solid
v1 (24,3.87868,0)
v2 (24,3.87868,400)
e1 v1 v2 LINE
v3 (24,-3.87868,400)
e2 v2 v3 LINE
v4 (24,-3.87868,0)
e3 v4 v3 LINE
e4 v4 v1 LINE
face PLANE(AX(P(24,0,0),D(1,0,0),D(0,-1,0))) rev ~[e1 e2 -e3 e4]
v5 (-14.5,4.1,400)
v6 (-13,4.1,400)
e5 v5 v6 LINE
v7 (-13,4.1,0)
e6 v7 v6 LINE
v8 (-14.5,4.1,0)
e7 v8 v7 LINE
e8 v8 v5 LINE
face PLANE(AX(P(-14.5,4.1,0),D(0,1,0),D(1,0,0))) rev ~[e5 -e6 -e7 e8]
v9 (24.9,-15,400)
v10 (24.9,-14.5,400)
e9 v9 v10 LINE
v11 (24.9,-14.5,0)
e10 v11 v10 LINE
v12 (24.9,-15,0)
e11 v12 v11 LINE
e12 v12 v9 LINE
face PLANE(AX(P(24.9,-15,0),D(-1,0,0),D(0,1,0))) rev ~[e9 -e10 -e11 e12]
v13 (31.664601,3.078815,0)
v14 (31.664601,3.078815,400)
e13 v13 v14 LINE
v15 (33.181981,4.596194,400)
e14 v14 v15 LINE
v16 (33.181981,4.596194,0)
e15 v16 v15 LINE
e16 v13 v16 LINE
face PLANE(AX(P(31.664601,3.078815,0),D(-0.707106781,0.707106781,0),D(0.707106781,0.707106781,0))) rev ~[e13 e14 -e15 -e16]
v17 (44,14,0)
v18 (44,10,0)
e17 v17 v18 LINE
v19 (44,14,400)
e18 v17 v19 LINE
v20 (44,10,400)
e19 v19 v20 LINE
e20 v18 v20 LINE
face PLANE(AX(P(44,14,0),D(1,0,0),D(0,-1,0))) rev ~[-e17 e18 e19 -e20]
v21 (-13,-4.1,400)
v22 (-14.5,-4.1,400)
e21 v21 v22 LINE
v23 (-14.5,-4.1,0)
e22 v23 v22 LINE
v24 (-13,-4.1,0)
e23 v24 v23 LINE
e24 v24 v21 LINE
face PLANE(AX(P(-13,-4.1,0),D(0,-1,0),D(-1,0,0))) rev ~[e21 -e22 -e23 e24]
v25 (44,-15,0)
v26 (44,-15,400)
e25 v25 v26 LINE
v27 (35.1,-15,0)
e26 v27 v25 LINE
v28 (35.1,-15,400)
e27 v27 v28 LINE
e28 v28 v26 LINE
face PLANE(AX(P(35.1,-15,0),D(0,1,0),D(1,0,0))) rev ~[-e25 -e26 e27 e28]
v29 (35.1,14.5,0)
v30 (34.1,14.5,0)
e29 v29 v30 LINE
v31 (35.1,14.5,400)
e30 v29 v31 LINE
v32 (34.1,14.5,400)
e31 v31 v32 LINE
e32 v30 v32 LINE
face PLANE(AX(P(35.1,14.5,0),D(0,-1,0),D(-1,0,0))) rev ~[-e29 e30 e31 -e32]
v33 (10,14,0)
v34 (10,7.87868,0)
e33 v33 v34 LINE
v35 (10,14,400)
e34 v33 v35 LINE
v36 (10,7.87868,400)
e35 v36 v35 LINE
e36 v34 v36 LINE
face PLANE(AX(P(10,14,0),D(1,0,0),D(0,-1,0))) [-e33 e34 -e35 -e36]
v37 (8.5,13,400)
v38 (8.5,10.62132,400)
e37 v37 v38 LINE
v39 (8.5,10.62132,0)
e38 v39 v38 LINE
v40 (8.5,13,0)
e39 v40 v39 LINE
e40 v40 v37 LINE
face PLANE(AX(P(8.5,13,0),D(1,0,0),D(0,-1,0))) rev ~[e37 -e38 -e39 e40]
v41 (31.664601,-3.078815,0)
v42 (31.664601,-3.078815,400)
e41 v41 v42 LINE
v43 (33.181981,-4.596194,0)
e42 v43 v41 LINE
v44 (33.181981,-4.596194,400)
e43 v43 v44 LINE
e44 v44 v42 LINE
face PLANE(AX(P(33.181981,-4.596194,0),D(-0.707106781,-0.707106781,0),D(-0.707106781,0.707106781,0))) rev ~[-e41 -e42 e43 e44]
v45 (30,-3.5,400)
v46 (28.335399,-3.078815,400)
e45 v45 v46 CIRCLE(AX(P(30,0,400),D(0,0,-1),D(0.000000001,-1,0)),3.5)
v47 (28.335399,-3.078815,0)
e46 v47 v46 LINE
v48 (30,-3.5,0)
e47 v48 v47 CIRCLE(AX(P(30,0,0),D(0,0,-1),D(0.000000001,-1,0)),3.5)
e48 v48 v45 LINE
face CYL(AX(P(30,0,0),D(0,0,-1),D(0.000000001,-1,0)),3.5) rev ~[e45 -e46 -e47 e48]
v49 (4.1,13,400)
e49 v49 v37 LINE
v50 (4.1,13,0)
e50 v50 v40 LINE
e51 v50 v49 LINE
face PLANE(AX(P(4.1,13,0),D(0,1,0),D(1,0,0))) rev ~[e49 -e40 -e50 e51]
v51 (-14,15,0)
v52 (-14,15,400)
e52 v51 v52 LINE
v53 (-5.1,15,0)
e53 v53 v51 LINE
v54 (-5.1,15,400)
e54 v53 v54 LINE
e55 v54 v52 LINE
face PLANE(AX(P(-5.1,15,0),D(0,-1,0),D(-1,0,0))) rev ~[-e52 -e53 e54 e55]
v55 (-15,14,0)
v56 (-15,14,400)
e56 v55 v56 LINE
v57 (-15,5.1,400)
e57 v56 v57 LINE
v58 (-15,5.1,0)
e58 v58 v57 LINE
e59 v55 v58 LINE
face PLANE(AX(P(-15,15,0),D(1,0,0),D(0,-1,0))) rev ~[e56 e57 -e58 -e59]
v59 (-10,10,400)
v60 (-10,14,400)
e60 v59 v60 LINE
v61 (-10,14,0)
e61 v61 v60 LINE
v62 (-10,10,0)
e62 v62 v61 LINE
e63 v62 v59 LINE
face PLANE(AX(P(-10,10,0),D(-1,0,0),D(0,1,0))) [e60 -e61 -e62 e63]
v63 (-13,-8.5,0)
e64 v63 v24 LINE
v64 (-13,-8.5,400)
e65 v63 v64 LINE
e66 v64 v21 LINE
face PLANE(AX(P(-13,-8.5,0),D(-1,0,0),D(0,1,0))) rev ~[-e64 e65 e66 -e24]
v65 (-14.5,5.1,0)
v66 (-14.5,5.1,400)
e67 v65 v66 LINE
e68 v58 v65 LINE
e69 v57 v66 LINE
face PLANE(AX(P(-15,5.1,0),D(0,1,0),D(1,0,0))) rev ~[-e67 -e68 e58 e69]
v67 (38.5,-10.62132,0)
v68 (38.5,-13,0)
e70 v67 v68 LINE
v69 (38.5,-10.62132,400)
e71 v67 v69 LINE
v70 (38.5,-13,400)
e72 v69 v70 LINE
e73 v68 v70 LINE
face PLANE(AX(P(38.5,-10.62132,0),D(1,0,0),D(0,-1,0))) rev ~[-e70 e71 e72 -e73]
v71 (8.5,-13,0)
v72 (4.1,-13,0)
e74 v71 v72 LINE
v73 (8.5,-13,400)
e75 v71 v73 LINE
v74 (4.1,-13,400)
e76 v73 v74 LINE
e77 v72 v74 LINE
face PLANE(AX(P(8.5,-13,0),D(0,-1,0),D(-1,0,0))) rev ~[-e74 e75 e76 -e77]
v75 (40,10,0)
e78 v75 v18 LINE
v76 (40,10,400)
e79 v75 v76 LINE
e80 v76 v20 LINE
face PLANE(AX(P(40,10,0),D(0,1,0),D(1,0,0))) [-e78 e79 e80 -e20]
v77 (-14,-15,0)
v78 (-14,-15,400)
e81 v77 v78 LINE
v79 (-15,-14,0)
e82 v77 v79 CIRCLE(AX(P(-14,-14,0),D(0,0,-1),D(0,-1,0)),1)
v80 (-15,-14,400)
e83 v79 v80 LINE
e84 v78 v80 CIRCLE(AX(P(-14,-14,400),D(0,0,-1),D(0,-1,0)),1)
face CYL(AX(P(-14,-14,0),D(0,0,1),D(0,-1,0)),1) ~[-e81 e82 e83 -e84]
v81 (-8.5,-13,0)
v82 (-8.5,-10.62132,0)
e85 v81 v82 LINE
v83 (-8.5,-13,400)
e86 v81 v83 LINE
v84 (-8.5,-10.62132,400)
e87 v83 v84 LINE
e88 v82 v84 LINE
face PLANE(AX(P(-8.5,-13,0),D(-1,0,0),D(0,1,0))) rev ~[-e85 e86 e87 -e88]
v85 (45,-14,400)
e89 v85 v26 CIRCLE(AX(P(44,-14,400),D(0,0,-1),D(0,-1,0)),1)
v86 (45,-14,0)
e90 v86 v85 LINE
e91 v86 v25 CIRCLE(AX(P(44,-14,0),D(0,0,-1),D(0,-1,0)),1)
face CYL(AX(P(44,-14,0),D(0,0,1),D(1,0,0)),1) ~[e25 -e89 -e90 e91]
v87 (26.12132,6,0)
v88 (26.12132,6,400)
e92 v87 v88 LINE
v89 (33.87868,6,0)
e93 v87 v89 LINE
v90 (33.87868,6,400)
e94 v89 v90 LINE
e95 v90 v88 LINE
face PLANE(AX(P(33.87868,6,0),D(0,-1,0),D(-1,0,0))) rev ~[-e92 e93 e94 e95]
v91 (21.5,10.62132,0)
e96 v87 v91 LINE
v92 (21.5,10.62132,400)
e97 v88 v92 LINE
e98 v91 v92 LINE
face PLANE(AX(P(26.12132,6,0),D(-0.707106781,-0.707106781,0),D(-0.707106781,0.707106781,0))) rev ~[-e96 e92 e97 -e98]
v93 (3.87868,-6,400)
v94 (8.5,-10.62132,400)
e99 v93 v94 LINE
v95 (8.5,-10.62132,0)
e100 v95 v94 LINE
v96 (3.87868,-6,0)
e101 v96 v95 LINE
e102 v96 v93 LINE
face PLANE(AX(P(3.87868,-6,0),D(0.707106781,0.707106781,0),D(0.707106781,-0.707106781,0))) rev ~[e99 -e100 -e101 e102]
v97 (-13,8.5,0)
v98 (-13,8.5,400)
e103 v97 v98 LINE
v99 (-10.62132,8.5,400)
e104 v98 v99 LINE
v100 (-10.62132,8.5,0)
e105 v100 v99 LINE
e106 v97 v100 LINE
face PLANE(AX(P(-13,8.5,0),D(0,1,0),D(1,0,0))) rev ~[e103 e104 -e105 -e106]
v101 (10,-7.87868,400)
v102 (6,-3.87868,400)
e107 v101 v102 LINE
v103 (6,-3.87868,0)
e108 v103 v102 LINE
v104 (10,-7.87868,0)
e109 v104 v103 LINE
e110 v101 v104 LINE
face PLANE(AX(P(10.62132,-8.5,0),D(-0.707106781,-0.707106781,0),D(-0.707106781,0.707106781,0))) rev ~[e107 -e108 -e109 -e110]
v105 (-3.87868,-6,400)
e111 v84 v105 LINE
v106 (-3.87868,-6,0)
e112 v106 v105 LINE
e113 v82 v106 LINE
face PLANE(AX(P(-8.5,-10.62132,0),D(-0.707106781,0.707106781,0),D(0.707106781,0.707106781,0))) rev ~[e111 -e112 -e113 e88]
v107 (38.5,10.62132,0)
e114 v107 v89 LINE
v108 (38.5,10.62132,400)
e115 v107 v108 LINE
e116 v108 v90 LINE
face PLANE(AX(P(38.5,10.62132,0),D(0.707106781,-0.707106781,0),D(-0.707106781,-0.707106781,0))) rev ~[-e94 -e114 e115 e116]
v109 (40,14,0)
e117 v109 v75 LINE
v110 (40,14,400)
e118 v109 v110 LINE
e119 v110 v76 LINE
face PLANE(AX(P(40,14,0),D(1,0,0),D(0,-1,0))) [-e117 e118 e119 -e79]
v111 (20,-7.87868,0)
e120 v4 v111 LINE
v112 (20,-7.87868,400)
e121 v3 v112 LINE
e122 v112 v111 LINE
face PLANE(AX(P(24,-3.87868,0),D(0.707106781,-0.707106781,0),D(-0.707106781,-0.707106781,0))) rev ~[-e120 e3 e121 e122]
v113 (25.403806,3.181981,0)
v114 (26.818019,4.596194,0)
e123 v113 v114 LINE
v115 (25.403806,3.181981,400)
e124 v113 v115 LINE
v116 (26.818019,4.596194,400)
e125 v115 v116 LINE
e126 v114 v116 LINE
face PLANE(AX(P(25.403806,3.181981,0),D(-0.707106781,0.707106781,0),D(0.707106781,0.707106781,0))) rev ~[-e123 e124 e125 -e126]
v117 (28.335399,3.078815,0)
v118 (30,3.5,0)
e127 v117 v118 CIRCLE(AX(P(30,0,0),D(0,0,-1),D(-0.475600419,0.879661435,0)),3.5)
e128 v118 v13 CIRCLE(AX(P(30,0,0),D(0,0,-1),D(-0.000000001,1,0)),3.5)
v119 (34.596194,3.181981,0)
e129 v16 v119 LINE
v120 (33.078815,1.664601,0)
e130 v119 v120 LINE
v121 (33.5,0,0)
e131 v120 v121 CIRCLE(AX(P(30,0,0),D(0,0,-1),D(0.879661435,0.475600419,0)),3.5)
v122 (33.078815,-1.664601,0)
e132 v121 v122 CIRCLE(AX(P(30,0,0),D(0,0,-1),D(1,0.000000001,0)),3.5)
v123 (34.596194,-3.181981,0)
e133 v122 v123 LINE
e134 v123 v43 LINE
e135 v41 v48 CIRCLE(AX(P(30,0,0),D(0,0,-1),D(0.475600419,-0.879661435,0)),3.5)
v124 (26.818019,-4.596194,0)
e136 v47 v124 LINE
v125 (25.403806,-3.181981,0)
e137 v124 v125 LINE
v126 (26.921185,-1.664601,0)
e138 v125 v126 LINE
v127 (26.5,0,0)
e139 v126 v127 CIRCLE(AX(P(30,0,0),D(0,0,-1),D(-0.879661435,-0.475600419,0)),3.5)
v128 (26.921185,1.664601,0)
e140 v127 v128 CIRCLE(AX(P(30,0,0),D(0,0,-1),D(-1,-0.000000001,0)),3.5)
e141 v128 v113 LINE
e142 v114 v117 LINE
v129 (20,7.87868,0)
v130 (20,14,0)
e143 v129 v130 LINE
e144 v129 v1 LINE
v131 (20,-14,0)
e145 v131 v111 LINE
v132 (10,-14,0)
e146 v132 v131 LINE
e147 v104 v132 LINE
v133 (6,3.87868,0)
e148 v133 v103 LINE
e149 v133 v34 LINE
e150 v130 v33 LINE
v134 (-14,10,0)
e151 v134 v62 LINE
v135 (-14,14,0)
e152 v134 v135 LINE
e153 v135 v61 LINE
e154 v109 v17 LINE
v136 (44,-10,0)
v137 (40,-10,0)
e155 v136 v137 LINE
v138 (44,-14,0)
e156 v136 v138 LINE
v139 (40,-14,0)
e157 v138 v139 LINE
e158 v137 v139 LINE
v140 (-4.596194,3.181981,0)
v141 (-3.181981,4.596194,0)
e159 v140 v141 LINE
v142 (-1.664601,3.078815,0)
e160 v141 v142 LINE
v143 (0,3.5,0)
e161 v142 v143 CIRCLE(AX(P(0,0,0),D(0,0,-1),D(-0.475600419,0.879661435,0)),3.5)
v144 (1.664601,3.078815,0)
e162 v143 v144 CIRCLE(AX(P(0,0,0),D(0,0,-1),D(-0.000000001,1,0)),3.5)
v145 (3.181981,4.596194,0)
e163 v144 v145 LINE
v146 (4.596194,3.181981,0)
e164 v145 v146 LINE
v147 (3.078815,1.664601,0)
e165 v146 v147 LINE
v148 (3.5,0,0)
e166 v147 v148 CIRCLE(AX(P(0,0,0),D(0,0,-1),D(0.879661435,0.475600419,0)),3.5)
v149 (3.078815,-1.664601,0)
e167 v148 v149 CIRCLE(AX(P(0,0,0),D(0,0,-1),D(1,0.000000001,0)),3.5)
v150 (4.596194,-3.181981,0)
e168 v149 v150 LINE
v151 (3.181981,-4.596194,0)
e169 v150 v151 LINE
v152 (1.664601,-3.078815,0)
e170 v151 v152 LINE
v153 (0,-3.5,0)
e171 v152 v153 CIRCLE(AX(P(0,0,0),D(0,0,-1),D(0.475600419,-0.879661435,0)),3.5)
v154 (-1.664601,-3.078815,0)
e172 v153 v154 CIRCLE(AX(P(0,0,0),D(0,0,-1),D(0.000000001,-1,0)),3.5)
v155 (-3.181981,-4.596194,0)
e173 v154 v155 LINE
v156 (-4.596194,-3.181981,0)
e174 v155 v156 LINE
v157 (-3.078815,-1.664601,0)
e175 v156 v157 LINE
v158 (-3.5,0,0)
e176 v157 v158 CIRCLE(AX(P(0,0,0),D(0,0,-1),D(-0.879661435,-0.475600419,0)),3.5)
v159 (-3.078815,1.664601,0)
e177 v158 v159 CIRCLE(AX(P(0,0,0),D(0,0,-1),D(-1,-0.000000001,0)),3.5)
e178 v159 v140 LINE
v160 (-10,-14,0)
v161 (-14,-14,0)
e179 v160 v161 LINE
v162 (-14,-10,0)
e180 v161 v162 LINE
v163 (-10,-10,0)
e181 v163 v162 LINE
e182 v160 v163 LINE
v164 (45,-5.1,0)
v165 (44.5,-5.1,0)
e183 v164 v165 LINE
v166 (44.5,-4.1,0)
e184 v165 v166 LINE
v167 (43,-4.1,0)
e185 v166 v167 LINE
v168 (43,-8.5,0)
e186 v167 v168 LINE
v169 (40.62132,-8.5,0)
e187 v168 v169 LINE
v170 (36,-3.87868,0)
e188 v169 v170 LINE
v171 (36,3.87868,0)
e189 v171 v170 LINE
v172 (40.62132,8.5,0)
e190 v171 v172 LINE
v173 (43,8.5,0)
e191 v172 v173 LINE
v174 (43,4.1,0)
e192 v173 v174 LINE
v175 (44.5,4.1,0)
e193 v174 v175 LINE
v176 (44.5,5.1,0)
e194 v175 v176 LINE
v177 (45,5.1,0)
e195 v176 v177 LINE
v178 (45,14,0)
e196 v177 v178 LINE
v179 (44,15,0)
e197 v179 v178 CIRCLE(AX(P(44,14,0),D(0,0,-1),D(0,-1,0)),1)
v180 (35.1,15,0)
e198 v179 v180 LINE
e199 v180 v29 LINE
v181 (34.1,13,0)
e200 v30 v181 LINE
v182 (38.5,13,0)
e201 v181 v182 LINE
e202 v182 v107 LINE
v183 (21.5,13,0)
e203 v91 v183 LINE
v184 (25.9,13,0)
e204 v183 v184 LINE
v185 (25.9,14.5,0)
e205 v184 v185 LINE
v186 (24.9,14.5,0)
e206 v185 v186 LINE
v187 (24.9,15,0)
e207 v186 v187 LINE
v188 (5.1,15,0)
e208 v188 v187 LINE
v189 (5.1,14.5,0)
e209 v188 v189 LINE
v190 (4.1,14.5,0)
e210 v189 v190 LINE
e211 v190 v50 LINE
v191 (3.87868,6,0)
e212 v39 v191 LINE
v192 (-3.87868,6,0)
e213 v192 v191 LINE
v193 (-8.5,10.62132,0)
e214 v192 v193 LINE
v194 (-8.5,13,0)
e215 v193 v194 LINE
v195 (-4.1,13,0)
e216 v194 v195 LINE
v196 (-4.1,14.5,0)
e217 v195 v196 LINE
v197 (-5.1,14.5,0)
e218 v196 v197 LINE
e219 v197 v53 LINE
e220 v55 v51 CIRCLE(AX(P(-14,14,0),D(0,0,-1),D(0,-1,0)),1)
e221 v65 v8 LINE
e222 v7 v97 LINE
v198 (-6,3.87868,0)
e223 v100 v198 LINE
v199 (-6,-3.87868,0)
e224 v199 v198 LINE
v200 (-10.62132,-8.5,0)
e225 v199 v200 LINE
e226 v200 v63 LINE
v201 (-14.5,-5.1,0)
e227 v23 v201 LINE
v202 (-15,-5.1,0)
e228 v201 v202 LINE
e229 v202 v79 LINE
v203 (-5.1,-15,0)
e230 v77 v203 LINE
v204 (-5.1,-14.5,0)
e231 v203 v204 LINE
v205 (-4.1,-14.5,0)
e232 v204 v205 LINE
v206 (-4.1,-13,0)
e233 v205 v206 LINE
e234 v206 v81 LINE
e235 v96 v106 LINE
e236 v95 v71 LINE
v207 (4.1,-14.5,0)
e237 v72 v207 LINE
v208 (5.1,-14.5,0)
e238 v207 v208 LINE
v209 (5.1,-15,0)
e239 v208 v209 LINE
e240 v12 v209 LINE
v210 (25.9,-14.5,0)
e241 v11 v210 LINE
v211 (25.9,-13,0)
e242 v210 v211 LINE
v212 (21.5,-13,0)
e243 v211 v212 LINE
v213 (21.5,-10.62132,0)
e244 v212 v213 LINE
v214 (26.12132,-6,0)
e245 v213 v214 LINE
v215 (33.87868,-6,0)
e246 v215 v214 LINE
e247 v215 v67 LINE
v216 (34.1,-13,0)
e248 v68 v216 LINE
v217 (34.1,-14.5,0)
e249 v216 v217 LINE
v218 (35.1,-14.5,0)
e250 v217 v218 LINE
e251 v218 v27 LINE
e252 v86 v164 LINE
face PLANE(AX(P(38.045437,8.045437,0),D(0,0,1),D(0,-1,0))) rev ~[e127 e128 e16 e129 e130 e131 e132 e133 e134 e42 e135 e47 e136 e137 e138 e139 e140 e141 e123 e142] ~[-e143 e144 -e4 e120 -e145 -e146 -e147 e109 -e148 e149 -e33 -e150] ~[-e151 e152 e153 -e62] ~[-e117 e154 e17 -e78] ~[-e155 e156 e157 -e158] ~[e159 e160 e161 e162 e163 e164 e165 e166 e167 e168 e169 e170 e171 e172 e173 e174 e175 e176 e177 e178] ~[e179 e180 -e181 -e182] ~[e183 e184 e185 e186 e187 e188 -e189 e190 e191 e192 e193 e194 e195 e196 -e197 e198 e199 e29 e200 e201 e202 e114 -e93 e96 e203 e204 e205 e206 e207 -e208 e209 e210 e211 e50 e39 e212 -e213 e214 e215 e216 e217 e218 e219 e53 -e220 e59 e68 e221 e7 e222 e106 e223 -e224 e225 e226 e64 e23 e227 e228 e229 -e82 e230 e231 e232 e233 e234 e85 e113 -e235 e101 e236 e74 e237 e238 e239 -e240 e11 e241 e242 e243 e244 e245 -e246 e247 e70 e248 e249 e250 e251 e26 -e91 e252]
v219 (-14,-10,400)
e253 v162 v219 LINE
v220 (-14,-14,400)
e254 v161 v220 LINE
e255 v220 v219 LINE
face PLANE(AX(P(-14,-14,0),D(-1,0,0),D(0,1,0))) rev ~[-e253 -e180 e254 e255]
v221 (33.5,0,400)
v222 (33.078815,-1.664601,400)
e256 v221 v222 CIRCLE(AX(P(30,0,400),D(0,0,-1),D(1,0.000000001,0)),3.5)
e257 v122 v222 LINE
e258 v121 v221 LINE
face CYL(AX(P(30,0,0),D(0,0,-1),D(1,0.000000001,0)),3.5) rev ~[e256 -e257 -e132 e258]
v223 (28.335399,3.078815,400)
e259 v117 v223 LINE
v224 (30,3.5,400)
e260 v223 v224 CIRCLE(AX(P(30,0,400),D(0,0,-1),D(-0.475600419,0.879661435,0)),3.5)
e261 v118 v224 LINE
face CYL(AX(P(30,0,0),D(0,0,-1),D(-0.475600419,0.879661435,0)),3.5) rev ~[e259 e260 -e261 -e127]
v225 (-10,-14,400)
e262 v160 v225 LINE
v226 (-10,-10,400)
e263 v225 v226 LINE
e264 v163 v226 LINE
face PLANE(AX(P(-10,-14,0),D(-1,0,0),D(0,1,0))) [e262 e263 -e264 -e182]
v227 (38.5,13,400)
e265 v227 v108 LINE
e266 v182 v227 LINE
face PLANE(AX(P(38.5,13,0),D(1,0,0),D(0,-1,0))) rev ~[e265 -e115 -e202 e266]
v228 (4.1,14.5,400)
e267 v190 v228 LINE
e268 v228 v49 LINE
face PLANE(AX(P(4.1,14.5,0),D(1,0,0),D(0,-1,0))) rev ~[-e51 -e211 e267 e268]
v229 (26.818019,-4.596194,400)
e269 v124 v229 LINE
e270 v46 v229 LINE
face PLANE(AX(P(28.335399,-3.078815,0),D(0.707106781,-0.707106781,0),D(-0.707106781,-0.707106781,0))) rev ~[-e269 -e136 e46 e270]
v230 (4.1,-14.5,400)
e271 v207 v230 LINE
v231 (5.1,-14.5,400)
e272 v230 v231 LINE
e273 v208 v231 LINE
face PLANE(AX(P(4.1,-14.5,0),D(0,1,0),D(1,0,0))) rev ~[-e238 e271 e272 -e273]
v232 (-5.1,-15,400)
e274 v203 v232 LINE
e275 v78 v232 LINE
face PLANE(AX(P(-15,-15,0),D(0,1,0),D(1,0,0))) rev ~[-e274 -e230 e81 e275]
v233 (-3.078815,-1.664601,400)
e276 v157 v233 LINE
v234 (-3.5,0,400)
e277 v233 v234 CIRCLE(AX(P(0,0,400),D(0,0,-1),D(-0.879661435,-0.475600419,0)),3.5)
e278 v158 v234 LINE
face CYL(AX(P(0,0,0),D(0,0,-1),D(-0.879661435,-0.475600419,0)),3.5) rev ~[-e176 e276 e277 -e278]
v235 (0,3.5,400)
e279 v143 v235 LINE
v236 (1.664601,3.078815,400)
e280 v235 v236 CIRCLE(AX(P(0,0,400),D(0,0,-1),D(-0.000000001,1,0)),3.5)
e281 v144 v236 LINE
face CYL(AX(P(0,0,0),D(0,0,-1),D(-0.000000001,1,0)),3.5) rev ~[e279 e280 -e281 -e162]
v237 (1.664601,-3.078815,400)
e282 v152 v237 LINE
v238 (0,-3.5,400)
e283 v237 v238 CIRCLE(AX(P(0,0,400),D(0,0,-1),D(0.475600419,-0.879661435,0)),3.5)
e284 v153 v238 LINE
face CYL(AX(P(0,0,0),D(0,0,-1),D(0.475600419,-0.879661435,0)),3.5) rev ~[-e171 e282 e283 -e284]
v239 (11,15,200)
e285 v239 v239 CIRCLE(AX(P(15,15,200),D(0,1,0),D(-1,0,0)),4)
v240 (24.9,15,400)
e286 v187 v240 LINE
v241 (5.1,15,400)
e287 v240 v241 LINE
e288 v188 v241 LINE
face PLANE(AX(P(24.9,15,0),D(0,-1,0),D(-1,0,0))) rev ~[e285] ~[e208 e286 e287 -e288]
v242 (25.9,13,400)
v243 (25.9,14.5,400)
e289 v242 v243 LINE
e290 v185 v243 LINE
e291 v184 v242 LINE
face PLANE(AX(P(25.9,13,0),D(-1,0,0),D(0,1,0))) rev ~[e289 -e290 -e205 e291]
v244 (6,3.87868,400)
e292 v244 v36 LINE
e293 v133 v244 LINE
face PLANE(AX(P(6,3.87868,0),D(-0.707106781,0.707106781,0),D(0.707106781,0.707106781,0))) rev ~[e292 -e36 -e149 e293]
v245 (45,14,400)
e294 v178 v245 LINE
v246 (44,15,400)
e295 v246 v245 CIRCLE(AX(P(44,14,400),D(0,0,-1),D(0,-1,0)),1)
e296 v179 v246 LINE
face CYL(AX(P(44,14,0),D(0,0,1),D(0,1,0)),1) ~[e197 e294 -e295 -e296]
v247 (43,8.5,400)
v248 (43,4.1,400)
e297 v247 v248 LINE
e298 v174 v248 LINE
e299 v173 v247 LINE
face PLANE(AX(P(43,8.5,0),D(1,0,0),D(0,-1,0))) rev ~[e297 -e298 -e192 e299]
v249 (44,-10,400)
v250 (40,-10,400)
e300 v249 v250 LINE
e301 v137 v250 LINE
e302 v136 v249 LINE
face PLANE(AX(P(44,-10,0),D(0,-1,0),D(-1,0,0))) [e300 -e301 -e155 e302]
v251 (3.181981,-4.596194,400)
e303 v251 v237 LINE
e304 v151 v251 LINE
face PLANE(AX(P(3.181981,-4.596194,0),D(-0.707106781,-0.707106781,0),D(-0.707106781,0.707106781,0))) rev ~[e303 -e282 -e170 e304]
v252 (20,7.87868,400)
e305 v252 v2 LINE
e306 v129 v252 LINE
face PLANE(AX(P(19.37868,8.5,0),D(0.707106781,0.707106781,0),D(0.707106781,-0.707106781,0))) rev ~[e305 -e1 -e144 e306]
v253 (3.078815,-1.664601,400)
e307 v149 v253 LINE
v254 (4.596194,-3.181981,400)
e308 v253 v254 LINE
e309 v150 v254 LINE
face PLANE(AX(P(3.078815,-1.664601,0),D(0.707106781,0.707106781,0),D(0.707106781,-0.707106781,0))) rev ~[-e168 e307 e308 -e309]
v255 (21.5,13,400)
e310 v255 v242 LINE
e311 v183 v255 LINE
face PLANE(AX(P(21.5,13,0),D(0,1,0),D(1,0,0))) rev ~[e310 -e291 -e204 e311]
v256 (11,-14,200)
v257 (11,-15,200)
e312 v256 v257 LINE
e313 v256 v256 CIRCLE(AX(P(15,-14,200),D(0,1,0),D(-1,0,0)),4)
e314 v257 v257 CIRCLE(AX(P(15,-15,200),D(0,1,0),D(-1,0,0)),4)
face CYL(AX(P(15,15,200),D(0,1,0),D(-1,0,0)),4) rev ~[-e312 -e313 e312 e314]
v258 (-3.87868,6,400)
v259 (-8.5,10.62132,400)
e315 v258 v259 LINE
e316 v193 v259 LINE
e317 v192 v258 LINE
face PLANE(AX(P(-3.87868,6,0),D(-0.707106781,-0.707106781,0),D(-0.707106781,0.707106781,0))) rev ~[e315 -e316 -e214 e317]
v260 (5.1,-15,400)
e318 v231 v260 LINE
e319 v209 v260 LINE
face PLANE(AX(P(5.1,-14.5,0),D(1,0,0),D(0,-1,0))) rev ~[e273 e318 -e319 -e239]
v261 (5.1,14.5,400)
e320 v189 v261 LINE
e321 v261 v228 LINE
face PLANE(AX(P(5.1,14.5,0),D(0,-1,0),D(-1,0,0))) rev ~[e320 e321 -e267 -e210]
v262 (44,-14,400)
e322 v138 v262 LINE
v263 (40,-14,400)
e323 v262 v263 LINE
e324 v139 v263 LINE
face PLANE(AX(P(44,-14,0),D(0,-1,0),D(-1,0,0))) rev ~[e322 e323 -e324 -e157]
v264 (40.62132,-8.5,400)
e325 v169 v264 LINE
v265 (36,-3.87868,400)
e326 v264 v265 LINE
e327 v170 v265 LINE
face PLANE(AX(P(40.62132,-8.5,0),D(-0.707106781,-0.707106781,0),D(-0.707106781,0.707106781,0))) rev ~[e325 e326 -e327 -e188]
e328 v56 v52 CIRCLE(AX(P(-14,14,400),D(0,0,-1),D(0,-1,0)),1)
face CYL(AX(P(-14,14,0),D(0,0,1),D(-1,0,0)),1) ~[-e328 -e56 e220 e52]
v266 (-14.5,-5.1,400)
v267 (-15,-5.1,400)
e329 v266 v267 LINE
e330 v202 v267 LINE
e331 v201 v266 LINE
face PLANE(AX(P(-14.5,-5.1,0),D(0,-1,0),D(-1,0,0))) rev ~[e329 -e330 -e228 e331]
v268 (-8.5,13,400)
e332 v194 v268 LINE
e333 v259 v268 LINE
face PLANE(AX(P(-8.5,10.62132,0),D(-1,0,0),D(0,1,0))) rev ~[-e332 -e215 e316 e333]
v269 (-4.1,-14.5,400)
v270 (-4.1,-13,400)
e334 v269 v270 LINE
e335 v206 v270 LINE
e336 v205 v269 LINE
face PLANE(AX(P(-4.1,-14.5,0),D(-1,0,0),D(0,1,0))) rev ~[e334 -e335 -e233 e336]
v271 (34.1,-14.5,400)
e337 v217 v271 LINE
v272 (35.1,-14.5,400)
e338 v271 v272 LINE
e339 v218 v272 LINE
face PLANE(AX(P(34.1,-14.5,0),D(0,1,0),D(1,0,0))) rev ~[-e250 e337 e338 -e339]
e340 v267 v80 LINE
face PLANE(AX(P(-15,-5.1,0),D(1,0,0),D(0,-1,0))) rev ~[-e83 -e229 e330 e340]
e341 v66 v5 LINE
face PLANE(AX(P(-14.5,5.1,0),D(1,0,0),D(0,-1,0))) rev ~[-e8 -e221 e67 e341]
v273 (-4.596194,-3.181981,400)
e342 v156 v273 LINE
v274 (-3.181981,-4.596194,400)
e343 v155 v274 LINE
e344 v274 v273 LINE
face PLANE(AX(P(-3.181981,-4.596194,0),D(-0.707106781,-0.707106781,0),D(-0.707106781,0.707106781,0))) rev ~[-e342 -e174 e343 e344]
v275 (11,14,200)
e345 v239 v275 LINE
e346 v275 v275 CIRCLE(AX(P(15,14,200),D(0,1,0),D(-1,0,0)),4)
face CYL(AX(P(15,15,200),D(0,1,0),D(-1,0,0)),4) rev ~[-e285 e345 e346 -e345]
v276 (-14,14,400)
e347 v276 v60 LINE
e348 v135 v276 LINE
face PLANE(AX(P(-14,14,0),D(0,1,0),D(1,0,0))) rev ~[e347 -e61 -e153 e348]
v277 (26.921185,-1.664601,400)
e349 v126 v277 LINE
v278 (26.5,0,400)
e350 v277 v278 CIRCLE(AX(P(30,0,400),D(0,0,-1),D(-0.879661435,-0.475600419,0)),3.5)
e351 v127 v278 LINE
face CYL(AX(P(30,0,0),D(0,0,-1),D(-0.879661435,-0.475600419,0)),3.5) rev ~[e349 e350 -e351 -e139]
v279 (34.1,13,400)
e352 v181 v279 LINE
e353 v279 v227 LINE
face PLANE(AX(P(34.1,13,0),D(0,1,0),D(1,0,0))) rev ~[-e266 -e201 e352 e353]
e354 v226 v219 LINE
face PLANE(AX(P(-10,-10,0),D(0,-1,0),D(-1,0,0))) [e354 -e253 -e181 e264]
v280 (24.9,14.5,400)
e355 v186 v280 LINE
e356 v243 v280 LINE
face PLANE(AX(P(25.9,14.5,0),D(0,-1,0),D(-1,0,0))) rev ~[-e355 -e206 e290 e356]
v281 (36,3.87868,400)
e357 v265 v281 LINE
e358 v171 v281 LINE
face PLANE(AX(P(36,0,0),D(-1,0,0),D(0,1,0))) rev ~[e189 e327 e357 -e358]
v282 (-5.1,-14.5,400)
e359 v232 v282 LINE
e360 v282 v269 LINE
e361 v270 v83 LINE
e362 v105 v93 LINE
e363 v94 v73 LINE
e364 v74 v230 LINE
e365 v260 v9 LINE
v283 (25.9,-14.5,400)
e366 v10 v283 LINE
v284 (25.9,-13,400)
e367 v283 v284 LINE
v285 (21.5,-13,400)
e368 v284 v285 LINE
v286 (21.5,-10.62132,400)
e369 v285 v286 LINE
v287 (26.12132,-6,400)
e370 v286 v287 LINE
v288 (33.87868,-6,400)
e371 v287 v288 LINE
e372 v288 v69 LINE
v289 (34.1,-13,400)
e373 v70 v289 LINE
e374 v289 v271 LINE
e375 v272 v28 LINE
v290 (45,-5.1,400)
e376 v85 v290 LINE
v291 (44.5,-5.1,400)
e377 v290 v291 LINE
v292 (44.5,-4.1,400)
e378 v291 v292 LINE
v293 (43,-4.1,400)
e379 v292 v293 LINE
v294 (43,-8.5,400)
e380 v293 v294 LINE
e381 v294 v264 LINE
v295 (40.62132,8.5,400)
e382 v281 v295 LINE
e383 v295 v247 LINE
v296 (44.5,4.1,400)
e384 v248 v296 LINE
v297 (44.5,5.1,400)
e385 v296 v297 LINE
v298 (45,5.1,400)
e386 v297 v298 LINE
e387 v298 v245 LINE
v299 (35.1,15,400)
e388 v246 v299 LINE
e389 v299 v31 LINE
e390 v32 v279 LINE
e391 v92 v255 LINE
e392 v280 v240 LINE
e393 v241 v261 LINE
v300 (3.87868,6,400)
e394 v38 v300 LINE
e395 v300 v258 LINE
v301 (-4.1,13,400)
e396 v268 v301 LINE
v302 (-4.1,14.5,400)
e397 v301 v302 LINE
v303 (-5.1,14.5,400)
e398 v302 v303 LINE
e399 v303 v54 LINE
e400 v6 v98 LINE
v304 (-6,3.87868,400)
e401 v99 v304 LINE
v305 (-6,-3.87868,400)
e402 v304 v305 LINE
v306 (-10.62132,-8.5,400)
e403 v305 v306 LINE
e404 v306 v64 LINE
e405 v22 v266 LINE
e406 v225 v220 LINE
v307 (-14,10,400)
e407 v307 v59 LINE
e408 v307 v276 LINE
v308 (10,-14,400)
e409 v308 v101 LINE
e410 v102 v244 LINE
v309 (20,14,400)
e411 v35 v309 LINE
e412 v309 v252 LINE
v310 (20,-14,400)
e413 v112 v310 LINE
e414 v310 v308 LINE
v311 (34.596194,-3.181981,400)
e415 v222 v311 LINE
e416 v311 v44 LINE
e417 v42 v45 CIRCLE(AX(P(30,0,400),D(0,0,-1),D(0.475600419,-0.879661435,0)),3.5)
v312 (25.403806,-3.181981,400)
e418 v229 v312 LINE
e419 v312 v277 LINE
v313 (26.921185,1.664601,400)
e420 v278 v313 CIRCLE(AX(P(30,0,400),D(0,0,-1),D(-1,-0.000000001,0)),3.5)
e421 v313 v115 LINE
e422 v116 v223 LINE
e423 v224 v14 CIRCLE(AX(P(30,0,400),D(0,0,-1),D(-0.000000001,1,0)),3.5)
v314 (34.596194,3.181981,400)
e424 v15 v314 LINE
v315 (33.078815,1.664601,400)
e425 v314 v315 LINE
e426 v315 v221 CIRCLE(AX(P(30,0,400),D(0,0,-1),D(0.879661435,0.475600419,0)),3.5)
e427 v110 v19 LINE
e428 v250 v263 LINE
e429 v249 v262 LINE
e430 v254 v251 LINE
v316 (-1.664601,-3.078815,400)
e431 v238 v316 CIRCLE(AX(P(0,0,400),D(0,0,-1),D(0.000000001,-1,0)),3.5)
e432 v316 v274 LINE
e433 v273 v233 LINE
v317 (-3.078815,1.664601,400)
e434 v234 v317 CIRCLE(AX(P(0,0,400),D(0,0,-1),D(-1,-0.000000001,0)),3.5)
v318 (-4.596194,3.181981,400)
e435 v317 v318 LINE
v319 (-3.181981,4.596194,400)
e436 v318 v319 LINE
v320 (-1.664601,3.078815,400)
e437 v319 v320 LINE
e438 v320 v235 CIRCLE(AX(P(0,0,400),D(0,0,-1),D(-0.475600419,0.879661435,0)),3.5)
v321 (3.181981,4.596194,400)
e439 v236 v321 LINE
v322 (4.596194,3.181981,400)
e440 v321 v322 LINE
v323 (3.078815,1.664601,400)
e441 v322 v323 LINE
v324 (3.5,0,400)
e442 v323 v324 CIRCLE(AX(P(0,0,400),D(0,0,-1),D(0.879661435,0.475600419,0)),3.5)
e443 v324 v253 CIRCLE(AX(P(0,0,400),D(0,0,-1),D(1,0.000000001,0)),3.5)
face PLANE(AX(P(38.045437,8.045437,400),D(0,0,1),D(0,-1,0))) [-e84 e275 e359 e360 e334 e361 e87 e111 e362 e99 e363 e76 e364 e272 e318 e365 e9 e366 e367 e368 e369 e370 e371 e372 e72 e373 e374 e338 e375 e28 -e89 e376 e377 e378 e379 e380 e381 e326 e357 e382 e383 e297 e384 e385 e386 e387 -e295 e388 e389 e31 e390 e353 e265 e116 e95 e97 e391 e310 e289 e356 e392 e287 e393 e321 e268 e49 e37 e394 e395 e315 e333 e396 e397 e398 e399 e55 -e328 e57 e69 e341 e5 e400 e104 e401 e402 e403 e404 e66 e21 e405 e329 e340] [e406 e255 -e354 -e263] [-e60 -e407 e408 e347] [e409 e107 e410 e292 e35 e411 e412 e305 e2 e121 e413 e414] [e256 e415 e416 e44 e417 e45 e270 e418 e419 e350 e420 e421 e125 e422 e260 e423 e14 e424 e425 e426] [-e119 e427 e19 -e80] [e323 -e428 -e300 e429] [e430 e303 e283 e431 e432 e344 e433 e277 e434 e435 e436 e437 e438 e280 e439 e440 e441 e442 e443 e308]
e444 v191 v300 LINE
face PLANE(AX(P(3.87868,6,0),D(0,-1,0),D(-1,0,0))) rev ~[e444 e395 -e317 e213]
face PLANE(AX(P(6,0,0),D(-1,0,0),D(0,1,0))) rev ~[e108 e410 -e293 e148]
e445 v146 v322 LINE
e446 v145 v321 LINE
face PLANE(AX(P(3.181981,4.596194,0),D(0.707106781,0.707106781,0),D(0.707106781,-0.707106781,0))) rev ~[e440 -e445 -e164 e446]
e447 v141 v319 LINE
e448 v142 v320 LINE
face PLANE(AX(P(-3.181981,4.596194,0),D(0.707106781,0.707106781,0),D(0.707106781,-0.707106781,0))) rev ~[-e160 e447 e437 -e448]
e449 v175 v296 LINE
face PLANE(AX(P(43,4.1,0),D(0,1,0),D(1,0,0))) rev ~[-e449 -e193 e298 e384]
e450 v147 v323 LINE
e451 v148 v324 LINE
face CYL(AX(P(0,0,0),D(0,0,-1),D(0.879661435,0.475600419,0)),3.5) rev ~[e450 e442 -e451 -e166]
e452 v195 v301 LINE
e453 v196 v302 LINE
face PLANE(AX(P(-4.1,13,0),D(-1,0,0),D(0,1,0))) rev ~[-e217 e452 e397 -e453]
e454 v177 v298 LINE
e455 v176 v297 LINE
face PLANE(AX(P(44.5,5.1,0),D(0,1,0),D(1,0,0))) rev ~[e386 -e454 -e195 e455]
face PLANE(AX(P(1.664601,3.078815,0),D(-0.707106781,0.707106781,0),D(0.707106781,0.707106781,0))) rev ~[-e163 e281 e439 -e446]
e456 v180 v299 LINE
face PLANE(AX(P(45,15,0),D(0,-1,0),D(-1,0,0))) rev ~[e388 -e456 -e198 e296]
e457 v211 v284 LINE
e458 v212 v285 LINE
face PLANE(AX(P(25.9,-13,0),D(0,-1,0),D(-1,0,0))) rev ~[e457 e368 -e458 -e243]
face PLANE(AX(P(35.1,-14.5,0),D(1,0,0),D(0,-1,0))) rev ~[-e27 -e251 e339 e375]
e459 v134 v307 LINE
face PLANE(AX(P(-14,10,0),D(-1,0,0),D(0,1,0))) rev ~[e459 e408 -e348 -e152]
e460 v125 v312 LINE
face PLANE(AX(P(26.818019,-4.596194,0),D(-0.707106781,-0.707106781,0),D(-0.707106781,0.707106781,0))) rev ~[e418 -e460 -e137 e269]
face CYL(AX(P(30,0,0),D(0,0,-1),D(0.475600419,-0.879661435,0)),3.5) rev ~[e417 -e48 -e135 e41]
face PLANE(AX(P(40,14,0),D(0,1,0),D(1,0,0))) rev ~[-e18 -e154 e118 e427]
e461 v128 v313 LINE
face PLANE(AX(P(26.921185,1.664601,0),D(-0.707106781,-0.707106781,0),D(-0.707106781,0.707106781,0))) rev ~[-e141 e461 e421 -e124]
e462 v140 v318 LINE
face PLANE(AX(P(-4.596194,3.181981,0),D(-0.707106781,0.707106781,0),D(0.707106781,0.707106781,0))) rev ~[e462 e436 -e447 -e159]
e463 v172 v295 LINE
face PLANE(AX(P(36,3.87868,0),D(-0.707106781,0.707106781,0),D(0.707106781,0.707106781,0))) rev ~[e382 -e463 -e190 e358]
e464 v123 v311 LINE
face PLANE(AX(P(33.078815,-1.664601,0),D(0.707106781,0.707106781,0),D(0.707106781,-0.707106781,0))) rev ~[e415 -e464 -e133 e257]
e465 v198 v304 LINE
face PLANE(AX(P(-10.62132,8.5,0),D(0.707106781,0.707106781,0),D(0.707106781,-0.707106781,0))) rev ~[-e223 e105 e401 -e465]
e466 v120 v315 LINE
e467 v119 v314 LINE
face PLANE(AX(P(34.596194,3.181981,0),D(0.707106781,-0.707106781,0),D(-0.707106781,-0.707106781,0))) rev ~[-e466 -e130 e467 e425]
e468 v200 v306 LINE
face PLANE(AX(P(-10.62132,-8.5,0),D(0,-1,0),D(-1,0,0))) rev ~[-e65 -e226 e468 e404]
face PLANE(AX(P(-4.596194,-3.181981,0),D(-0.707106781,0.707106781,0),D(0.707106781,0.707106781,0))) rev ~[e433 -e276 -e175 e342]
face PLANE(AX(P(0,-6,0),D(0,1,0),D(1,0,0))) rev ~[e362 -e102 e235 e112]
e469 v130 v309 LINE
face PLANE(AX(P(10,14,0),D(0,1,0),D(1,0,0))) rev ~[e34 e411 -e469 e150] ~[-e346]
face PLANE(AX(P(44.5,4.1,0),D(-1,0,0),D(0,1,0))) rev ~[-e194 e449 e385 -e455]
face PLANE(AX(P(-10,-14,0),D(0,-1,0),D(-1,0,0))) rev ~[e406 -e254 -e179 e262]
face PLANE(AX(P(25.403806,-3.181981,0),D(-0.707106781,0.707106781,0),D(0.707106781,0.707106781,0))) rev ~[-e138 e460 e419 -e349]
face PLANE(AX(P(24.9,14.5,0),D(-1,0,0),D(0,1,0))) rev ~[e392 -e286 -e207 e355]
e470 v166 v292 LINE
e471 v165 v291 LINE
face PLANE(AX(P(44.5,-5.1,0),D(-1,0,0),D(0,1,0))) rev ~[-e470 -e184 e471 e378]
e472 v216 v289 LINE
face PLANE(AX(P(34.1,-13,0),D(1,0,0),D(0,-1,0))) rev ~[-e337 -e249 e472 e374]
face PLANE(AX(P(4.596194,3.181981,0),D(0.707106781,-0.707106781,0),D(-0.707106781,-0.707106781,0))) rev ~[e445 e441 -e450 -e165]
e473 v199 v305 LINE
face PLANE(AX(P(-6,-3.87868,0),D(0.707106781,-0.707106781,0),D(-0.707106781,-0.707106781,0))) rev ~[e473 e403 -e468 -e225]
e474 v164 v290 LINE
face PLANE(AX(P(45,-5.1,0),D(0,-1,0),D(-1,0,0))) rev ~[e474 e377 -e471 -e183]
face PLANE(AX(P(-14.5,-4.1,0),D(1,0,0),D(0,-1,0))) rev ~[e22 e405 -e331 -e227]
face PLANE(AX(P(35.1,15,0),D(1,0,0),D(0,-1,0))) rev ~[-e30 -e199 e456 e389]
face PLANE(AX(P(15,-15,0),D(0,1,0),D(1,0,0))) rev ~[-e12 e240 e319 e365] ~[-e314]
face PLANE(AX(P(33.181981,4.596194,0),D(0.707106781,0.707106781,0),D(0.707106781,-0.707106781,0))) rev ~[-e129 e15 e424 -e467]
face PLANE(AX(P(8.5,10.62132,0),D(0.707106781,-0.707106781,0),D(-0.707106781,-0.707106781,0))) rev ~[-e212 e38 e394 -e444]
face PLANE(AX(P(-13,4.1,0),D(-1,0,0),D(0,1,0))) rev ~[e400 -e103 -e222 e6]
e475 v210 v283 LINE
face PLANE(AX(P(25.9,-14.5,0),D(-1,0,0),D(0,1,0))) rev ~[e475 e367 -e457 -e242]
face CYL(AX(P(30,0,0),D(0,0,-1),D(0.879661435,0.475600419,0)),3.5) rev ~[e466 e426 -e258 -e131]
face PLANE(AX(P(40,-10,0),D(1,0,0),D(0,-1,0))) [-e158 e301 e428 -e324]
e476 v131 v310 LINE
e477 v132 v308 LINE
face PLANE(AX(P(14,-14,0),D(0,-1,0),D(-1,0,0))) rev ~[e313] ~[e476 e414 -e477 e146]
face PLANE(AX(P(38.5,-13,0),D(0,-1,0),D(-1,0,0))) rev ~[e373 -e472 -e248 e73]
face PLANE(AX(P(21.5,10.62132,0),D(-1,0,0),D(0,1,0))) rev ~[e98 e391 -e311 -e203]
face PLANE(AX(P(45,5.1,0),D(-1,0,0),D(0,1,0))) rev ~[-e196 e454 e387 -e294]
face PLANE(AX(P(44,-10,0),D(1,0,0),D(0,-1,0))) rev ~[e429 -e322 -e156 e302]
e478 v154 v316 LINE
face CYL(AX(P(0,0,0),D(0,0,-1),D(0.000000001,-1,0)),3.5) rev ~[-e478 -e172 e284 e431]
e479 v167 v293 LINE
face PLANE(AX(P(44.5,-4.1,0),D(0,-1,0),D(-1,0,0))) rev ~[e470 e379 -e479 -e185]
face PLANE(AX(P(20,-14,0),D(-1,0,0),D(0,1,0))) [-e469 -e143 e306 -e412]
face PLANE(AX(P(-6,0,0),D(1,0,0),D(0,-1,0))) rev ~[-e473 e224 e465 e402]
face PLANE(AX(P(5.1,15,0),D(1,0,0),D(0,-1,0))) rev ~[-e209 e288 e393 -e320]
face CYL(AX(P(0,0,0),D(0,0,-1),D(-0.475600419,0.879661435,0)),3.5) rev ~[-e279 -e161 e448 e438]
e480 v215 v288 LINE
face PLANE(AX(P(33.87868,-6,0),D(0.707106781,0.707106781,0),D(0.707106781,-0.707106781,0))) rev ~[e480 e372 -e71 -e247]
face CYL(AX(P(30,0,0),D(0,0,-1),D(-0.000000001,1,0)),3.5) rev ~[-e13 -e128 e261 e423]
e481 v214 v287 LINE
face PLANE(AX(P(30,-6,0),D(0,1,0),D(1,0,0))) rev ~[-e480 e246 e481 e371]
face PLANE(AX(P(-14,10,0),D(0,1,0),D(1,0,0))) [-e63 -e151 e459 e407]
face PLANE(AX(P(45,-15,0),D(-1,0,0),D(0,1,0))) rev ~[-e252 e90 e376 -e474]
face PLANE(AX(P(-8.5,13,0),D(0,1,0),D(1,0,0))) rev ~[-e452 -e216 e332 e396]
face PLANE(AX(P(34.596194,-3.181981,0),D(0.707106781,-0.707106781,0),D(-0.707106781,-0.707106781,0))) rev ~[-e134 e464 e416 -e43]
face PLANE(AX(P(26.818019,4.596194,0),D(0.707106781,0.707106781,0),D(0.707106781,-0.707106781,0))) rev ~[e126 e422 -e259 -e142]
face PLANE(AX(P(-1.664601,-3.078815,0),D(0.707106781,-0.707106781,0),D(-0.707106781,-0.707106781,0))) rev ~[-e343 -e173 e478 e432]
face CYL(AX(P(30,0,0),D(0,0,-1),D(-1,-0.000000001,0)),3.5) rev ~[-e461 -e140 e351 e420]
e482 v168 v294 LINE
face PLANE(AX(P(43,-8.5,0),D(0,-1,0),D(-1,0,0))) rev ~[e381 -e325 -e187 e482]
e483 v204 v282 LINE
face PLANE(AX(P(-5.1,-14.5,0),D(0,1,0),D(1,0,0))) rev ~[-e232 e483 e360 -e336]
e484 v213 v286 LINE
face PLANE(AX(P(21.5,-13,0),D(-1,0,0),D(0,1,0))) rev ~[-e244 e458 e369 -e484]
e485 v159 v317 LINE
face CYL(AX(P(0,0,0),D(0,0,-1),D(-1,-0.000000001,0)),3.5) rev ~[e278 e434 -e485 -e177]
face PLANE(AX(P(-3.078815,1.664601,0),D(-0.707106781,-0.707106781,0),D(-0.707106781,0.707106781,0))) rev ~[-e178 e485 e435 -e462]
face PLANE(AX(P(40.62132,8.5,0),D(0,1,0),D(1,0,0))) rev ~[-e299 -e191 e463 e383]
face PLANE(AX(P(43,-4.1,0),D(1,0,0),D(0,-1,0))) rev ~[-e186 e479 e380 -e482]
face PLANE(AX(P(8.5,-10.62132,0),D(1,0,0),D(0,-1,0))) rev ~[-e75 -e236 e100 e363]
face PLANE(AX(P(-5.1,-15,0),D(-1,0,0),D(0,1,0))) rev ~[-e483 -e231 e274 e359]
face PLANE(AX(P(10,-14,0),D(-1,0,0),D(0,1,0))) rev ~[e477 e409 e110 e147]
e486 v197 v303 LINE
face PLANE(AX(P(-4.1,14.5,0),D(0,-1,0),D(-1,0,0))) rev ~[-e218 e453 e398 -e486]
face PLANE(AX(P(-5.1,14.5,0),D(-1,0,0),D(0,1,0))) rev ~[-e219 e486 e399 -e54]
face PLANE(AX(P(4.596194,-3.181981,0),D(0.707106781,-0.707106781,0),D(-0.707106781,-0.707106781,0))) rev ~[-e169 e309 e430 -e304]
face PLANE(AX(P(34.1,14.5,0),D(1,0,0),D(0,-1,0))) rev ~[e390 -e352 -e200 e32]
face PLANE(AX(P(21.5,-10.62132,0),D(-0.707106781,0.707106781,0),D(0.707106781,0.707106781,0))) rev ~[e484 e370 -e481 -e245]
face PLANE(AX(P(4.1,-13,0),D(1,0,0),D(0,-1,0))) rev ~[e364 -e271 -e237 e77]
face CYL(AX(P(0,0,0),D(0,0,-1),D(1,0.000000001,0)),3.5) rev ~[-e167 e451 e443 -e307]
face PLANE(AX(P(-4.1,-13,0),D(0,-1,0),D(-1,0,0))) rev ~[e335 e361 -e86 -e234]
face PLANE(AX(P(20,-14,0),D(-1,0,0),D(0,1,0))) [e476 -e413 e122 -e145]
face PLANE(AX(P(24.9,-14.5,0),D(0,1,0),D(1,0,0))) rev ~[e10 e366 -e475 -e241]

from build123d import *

# Parameters (mm, degrees)
ESBO_O1_W                      = 4
ESBO_O1_H                      = 4
RESSALTO_EXTRUS_O1_DEPTH       = 400
PADR_OCIRCULAR1_COUNT          = 4
PADR_O_LINEAR1_COUNT           = 2
PADR_O_LINEAR1_PITCH           = 30
PADR_O_LINEAR1_COPY_1_SKETCH_W = 4
PADR_O_LINEAR1_COPY_1_SKETCH_H = 4
PADR_O_LINEAR1_COPY_1_DEPTH    = 400
PADR_O_LINEAR1_COPY_2_SKETCH_W = 4
PADR_O_LINEAR1_COPY_2_SKETCH_H = 4
PADR_O_LINEAR1_COPY_2_DEPTH    = 400
PADR_O_LINEAR1_COPY_3_SKETCH_W = 4
PADR_O_LINEAR1_COPY_3_SKETCH_H = 4
PADR_O_LINEAR1_COPY_3_DEPTH    = 400
ESBO_O4_W                      = 10
ESBO_O4_H                      = 28
CORTE_EXTRUS_O1_DEPTH          = 403.802681222
FILETE1_R                      = 1
ESBO_O5_R                      = 4
CORTE_EXTRUS_O2_DEPTH          = 404.639690813


with BuildPart() as part:
    # Esboço1 → Ressalto-extrusão1 (new body)
    with BuildSketch(Plane.XY):
        with BuildLine():
            ThreePointArc((-1.664601464, 3.078815026), (-0.858529967, 3.393070335), (0, 3.5))
            Line((0, 3.5), (0, 6))
            Line((0, 6), (-3.878679656, 6))
            Line((-3.878679656, 6), (-8.5, 10.621320344))
            Line((-8.5, 10.621320344), (-8.5, 13))
            Line((-8.5, 13), (-4.1, 13))
            Line((-4.1, 13), (-4.1, 14.5))
            Line((-4.1, 14.5), (-5.1, 14.5))
            Line((-5.1, 14.5), (-5.1, 15))
            Line((-5.1, 15), (-15, 15))
            Line((-15, 15), (-15, 5.1))
            Line((-15, 5.1), (-14.5, 5.1))
            Line((-14.5, 5.1), (-14.5, 4.1))
            Line((-14.5, 4.1), (-13, 4.1))
            Line((-13, 4.1), (-13, 8.5))
            Line((-13, 8.5), (-10.621320344, 8.5))
            Line((-10.621320344, 8.5), (-6, 3.878679656))
            Line((-6, 3.878679656), (-6, 0))
            Line((-6, 0), (-3.5, 0))
            ThreePointArc((-3.5, 0), (-3.393070335, 0.858529967), (-3.078815026, 1.664601464))
            Line((-3.078815026, 1.664601464), (-4.596194078, 3.181980515))
            Line((-4.596194078, 3.181980515), (-3.181980515, 4.596194078))
            Line((-3.181980515, 4.596194078), (-1.664601464, 3.078815026))
        make_face()
        with Locations((-12, 12)):
            Rectangle(ESBO_O1_W, ESBO_O1_H, mode=Mode.SUBTRACT)
    ressalto_extrus_o1 = extrude(amount=RESSALTO_EXTRUS_O1_DEPTH)

    # PadrãoCircular1: Ressalto-extrusão1 ×4 about axis
    padr_ocircular1_axis = Axis((0, 0, 0), (0, 0, 1))
    for i in range(1, PADR_OCIRCULAR1_COUNT):
        add(ressalto_extrus_o1.rotate(padr_ocircular1_axis, i * 360 / PADR_OCIRCULAR1_COUNT))

    # Padrão linear1: Ressalto-extrusão1 ×2
    with Locations(*[(i * PADR_O_LINEAR1_PITCH, 0, 0) for i in range(1, PADR_O_LINEAR1_COUNT)]):
        add(ressalto_extrus_o1)

    # Padrão linear1 copy 1 sketch → Padrão linear1 copy 1 (add)
    with BuildSketch(Plane(origin=(30, 0, 0), x_dir=(0, 1, 0), z_dir=(0, 0, 1))):
        with BuildLine():
            ThreePointArc((-1.664601464, 3.078815026), (-0.858529967, 3.393070335), (0, 3.5))
            Line((0, 3.5), (0, 6))
            Line((0, 6), (-3.878679656, 6))
            Line((-3.878679656, 6), (-8.5, 10.621320344))
            Line((-8.5, 10.621320344), (-8.5, 13))
            Line((-8.5, 13), (-4.1, 13))
            Line((-4.1, 13), (-4.1, 14.5))
            Line((-4.1, 14.5), (-5.1, 14.5))
            Line((-5.1, 14.5), (-5.1, 15))
            Line((-5.1, 15), (-15, 15))
            Line((-15, 15), (-15, 5.1))
            Line((-15, 5.1), (-14.5, 5.1))
            Line((-14.5, 5.1), (-14.5, 4.1))
            Line((-14.5, 4.1), (-13, 4.1))
            Line((-13, 4.1), (-13, 8.5))
            Line((-13, 8.5), (-10.621320344, 8.5))
            Line((-10.621320344, 8.5), (-6, 3.878679656))
            Line((-6, 3.878679656), (-6, 0))
            Line((-6, 0), (-3.5, 0))
            ThreePointArc((-3.5, 0), (-3.393070335, 0.858529967), (-3.078815026, 1.664601464))
            Line((-3.078815026, 1.664601464), (-4.596194078, 3.181980515))
            Line((-4.596194078, 3.181980515), (-3.181980515, 4.596194078))
            Line((-3.181980515, 4.596194078), (-1.664601464, 3.078815026))
        make_face()
        with Locations((-12, 12)):
            Rectangle(PADR_O_LINEAR1_COPY_1_SKETCH_W, PADR_O_LINEAR1_COPY_1_SKETCH_H, mode=Mode.SUBTRACT)
    extrude(amount=PADR_O_LINEAR1_COPY_1_DEPTH)

    # Padrão linear1 copy 2 sketch → Padrão linear1 copy 2 (add)
    with BuildSketch(Plane(origin=(30, 0, 0), x_dir=(-1, 0, 0), z_dir=(0, 0, 1))):
        with BuildLine():
            ThreePointArc((-1.664601464, 3.078815026), (-0.858529967, 3.393070335), (0, 3.5))
            Line((0, 3.5), (0, 6))
            Line((0, 6), (-3.878679656, 6))
            Line((-3.878679656, 6), (-8.5, 10.621320344))
            Line((-8.5, 10.621320344), (-8.5, 13))
            Line((-8.5, 13), (-4.1, 13))
            Line((-4.1, 13), (-4.1, 14.5))
            Line((-4.1, 14.5), (-5.1, 14.5))
            Line((-5.1, 14.5), (-5.1, 15))
            Line((-5.1, 15), (-15, 15))
            Line((-15, 15), (-15, 5.1))
            Line((-15, 5.1), (-14.5, 5.1))
            Line((-14.5, 5.1), (-14.5, 4.1))
            Line((-14.5, 4.1), (-13, 4.1))
            Line((-13, 4.1), (-13, 8.5))
            Line((-13, 8.5), (-10.621320344, 8.5))
            Line((-10.621320344, 8.5), (-6, 3.878679656))
            Line((-6, 3.878679656), (-6, 0))
            Line((-6, 0), (-3.5, 0))
            ThreePointArc((-3.5, 0), (-3.393070335, 0.858529967), (-3.078815026, 1.664601464))
            Line((-3.078815026, 1.664601464), (-4.596194078, 3.181980515))
            Line((-4.596194078, 3.181980515), (-3.181980515, 4.596194078))
            Line((-3.181980515, 4.596194078), (-1.664601464, 3.078815026))
        make_face()
        with Locations((-12, 12)):
            Rectangle(PADR_O_LINEAR1_COPY_2_SKETCH_W, PADR_O_LINEAR1_COPY_2_SKETCH_H, mode=Mode.SUBTRACT)
    extrude(amount=PADR_O_LINEAR1_COPY_2_DEPTH)

    # Padrão linear1 copy 3 sketch → Padrão linear1 copy 3 (add)
    with BuildSketch(Plane(origin=(30, 0, 0), x_dir=(0, -1, 0), z_dir=(0, 0, 1))):
        with BuildLine():
            ThreePointArc((-1.664601464, 3.078815026), (-0.858529967, 3.393070335), (0, 3.5))
            Line((0, 3.5), (0, 6))
            Line((0, 6), (-3.878679656, 6))
            Line((-3.878679656, 6), (-8.5, 10.621320344))
            Line((-8.5, 10.621320344), (-8.5, 13))
            Line((-8.5, 13), (-4.1, 13))
            Line((-4.1, 13), (-4.1, 14.5))
            Line((-4.1, 14.5), (-5.1, 14.5))
            Line((-5.1, 14.5), (-5.1, 15))
            Line((-5.1, 15), (-15, 15))
            Line((-15, 15), (-15, 5.1))
            Line((-15, 5.1), (-14.5, 5.1))
            Line((-14.5, 5.1), (-14.5, 4.1))
            Line((-14.5, 4.1), (-13, 4.1))
            Line((-13, 4.1), (-13, 8.5))
            Line((-13, 8.5), (-10.621320344, 8.5))
            Line((-10.621320344, 8.5), (-6, 3.878679656))
            Line((-6, 3.878679656), (-6, 0))
            Line((-6, 0), (-3.5, 0))
            ThreePointArc((-3.5, 0), (-3.393070335, 0.858529967), (-3.078815026, 1.664601464))
            Line((-3.078815026, 1.664601464), (-4.596194078, 3.181980515))
            Line((-4.596194078, 3.181980515), (-3.181980515, 4.596194078))
            Line((-3.181980515, 4.596194078), (-1.664601464, 3.078815026))
        make_face()
        with Locations((-12, 12)):
            Rectangle(PADR_O_LINEAR1_COPY_3_SKETCH_W, PADR_O_LINEAR1_COPY_3_SKETCH_H, mode=Mode.SUBTRACT)
    extrude(amount=PADR_O_LINEAR1_COPY_3_DEPTH)

    # Esboço4 → Corte-extrusão1 (cut, through all)
    with BuildSketch(Plane(origin=(0, 0, 0), x_dir=(-1, 0, 0), z_dir=(0, 0, -1))):
        with Locations((-15, 0)):
            Rectangle(ESBO_O4_W, ESBO_O4_H)
    extrude(amount=-CORTE_EXTRUS_O1_DEPTH, mode=Mode.SUBTRACT)

    # Filete1
    filete1_edges = [part.edges().sort_by_distance(p)[0] for p in [
        (45, -15, 200),
        (45, 15, 200),
        (-15, 15, 200),
        (-15, -15, 200),
    ]]
    fillet(filete1_edges, radius=FILETE1_R)

    # Esboço5 → Corte-extrusão2 (cut, through all)
    with BuildSketch(Plane(origin=(0, 15, 0), x_dir=(1, 0, 0), z_dir=(0, 1, 0))):
        with Locations(Location((15, -200, 0), (0, 0, 180))):
            Circle(ESBO_O5_R)
    extrude(amount=-CORTE_EXTRUS_O2_DEPTH, mode=Mode.SUBTRACT)


solid = part.part
